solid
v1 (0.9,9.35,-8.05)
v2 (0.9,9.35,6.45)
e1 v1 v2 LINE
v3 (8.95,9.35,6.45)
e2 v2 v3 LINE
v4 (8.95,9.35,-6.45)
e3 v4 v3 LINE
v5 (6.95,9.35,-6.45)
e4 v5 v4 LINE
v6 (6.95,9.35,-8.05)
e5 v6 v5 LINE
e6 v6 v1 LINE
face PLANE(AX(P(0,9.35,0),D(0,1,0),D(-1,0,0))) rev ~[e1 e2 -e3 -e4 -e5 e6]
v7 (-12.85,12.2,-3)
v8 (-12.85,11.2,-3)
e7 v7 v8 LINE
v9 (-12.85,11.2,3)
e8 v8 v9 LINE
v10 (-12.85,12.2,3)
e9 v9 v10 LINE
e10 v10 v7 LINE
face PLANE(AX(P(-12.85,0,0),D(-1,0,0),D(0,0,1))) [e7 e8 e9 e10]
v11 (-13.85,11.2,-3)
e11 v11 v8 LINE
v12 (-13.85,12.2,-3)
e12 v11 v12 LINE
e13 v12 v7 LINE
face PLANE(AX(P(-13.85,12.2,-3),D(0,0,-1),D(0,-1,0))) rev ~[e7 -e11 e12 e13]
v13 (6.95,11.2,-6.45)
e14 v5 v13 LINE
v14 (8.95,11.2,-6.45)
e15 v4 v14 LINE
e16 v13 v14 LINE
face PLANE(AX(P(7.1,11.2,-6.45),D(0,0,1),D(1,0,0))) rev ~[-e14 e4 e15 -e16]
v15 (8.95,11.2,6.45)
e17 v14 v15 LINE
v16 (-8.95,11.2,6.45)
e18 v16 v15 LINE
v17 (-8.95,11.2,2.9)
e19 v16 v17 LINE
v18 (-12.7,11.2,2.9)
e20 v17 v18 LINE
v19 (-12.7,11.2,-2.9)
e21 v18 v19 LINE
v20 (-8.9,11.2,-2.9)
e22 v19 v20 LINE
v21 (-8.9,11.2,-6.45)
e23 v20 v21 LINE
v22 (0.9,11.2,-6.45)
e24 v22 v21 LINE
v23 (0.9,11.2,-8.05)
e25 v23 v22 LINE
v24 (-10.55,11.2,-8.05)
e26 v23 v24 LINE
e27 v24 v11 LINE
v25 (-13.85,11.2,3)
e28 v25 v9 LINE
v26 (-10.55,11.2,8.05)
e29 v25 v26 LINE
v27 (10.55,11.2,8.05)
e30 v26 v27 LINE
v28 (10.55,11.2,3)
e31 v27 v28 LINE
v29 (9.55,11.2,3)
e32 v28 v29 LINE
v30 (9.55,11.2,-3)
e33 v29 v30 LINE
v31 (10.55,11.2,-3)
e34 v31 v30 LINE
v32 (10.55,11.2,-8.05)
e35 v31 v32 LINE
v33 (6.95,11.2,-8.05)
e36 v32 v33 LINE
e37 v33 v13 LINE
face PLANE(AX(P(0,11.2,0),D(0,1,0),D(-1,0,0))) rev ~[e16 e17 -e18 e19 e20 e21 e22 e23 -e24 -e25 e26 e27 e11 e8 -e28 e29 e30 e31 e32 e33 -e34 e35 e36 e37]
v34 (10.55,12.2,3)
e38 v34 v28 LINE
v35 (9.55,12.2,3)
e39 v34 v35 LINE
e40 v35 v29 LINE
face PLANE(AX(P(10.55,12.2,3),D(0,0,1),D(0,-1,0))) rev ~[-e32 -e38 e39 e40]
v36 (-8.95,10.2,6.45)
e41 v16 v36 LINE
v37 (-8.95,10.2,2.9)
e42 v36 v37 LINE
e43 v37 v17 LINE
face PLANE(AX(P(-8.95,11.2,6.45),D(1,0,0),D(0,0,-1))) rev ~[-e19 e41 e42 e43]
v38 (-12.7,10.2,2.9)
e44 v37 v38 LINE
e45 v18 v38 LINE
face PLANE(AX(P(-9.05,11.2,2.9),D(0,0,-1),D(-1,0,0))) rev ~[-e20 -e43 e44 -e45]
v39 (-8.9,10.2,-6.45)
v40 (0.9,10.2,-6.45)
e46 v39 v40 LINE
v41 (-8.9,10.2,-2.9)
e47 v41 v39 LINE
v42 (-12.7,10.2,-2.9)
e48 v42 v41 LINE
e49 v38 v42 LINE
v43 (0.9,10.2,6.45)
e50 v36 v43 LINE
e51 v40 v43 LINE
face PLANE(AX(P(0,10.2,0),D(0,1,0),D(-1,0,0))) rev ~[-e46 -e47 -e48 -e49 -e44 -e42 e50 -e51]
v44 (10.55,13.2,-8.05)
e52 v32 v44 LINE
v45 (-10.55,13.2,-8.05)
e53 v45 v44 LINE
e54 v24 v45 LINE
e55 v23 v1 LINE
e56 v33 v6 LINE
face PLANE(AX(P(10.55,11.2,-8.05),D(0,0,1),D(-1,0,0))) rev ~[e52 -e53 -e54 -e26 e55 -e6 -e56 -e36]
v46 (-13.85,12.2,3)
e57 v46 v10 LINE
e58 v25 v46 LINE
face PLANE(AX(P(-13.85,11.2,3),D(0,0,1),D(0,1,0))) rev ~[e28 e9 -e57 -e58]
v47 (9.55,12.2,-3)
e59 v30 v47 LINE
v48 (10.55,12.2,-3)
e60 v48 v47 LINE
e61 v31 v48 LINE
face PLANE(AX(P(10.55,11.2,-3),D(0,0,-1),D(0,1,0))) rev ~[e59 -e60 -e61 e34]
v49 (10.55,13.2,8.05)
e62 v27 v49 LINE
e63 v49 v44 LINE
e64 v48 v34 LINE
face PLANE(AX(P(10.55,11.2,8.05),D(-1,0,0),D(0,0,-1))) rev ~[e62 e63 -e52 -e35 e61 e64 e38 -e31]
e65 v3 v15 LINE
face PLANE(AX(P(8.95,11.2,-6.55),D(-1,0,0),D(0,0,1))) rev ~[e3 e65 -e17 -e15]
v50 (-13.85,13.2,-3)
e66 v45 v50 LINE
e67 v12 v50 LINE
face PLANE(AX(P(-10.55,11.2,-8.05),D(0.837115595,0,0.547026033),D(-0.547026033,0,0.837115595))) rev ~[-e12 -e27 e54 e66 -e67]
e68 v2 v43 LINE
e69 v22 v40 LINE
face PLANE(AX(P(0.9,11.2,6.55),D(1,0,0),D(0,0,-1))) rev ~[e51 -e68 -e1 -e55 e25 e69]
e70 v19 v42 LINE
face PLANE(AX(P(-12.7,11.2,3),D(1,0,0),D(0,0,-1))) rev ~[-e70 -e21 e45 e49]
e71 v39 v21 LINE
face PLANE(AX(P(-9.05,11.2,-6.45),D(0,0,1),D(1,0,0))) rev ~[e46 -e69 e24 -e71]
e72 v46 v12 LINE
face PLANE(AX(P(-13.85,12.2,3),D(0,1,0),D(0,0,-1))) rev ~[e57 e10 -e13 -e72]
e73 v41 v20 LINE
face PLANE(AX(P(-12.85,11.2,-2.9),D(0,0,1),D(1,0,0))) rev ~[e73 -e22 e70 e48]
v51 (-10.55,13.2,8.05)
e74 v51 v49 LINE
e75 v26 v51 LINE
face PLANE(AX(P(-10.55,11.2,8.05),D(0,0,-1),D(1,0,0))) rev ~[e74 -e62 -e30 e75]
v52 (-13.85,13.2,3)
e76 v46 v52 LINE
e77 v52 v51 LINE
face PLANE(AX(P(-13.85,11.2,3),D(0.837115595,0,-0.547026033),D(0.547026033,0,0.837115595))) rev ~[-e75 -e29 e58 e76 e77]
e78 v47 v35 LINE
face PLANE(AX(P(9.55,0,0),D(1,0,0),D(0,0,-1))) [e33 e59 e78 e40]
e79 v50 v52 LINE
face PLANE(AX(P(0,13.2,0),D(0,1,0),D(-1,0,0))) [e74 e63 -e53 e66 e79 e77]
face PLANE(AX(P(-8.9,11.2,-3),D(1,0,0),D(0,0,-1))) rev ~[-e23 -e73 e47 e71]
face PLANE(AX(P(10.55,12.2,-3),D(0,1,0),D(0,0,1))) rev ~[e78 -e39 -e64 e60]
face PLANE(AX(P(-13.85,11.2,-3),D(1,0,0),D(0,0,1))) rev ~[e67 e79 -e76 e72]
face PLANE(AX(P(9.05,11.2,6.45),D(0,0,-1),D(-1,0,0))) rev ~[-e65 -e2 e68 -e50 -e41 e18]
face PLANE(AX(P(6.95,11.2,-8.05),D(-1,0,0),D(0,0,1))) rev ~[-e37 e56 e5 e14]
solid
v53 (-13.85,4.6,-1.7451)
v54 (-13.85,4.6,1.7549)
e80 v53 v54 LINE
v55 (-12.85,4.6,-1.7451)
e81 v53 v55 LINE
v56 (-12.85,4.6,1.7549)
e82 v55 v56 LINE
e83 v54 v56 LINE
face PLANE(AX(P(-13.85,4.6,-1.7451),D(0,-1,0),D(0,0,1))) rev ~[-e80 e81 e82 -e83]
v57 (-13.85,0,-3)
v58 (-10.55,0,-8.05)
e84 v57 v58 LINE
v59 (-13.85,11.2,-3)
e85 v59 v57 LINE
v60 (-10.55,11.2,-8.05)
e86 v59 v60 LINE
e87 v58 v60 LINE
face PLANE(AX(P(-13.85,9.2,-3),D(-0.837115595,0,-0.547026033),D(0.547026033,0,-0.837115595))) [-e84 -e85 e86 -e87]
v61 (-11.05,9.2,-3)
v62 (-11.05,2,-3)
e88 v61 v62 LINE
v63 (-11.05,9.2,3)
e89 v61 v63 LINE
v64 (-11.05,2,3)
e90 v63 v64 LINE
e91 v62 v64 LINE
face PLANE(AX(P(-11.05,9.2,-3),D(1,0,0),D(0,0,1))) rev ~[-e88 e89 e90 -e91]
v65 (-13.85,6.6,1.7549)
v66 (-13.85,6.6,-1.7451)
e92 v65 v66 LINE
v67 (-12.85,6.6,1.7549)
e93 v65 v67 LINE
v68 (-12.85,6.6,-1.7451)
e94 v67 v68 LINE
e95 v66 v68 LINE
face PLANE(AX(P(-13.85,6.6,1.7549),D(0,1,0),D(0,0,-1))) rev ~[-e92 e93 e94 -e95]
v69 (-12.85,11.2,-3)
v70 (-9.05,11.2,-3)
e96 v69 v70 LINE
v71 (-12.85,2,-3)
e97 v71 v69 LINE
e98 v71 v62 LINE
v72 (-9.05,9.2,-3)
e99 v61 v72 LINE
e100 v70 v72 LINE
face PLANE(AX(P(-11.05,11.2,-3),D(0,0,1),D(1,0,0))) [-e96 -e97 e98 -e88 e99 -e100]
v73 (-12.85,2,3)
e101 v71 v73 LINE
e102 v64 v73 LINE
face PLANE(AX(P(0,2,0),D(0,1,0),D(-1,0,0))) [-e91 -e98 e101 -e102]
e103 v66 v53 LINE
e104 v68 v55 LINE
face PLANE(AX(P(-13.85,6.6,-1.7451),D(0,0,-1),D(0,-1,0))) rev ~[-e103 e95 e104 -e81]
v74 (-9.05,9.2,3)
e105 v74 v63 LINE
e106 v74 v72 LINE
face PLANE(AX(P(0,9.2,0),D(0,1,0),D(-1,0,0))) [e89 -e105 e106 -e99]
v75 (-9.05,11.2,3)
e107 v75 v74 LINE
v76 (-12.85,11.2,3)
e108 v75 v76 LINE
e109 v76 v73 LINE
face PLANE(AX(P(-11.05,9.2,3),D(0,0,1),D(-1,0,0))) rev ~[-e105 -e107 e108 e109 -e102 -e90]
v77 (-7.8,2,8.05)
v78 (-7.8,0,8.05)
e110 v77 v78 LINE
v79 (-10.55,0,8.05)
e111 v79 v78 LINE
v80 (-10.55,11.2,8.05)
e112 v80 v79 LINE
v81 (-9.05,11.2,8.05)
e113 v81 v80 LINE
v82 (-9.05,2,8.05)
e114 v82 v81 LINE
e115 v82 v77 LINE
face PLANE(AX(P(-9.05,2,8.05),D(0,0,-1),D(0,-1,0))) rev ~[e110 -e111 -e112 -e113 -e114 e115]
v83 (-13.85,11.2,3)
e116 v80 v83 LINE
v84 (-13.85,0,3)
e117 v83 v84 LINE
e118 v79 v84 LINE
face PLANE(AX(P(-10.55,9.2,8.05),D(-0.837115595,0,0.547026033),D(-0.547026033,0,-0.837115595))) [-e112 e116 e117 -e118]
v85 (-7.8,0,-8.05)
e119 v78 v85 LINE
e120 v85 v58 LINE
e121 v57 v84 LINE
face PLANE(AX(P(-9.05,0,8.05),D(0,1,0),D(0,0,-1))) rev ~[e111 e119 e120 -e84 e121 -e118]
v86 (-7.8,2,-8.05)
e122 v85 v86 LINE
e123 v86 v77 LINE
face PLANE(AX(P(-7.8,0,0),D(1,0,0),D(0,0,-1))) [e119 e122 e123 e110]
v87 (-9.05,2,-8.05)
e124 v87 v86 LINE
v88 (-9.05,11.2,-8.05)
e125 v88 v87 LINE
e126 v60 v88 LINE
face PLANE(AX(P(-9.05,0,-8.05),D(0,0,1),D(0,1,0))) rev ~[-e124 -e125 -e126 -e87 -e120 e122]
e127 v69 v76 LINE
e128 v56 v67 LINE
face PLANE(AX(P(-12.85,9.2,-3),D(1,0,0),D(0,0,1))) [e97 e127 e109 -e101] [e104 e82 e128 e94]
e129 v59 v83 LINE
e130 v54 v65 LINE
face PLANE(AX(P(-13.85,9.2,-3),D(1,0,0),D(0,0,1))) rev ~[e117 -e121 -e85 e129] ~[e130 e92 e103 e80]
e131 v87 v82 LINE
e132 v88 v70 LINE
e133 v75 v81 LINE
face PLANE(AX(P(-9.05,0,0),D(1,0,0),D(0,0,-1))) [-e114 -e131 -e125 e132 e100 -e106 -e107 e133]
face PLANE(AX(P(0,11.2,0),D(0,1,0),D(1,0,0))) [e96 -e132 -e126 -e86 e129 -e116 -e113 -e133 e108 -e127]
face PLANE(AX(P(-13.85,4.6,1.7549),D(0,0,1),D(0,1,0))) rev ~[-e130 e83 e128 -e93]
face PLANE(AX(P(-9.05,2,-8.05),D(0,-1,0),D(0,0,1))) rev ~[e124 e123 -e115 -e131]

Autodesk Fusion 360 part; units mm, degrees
sketch "Sketch1" plane through (0, 0, 0) normal (0, 1, 0) x (1, 0, 0)
  line L0 (10.55, -8.05) -> (-10.55, -8.05)
  line L1 (-10.55, -8.05) -> (-10.55, 8.05)
  line L2 (-10.55, 8.05) -> (10.55, 8.05)
  line L3 (10.55, 8.05) -> (10.55, -8.05)
  line L4 (10.55, -8.05) -> (-10.55, 8.05) construction
  line L5 (-10.55, -8.05) -> (10.55, 8.05) construction
  dimension "d1" = 21.1
  dimension "d2" = 16.1
extrude "Extrude1" add sketch "Sketch1" along normal blind 3.5 makes body 1
sketch "Sketch2" plane through (0, 3.5, 0) normal (0, 1, 0) x (-1, 0, 0)
  line L0 (-10.55, -8.05) -> (10.55, -8.05)
  line L1 (10.55, -8.05) -> (10.55, 8.05)
  line L2 (10.55, 8.05) -> (-10.55, 8.05)
  line L3 (-10.55, 8.05) -> (-10.55, -8.05)
  line L4 (-9.05, 6.55) -> (9.05, 6.55)
  line L5 (9.05, 6.55) -> (9.05, -6.55)
  line L6 (9.05, -6.55) -> (-9.05, -6.55)
  line L7 (-9.05, -6.55) -> (-9.05, 6.55)
  line L8 (-9.05, 6.55) -> (9.05, -6.55) construction
  line L9 (9.05, 6.55) -> (-9.05, -6.55) construction
  dimension "d5" = 18.1
  dimension "d6" = 13.1
extrude "Extrude2" cut sketch "Sketch2" against normal blind 1.5 contours L4 L5 L6 L7 bodies 1
extrude "Extrude3" add 1 faces at (-3.0167, 3.5, -7.55) along direction (0, 1, 0) blind 5.7 on bodies 1 bodies 1
sketch "Sketch3" plane through (0, 9.2, 0) normal (0, 1, 0) x (-1, 0, 0)
  line L0 (9.05, 6.55) -> (9.05, -6.55)
  line L1 (9.05, -6.55) -> (-9.05, -6.55)
  line L2 (-9.05, -6.55) -> (-9.05, 6.55)
  line L3 (-9.05, 6.55) -> (9.05, 6.55)
  line L4 (-10.55, -8.05) -> (10.55, -8.05)
  line L5 (10.55, -8.05) -> (10.55, 8.05)
  line L6 (10.55, 8.05) -> (-10.55, 8.05)
  line L7 (-10.55, 8.05) -> (-10.55, -8.05)
  line L8 (-9.05, -6.55) -> (-7.1, -6.55)
  line L9 (-7.1, -6.55) -> (-7.1, -8.05)
  line L10 (-7.1, -8.05) -> (-9.05, -8.05)
  line L11 (-9.05, -8.05) -> (-9.05, -6.55)
  line L12 (-7.1, -6.55) -> (-0.8, -6.55)
  line L13 (-0.8, -6.55) -> (-0.8, -8.05)
  line L14 (-0.8, -8.05) -> (-7.1, -8.05)
  line L15 (-7.1, -8.05) -> (-7.1, -6.55)
  dimension "d11" = 1.95
  dimension "d12" = 6.3
extrude "Extrude4" cut sketch "Sketch3" against normal blind 5.7 contours L1 L4 L9 L12 L13 L14 L15 bodies 1
sketch "Sketch4" plane through (0, 2, 0) normal (0, 1, 0) x (-1, 0, 0)
  line L0 (-9.05, -6.55) -> (9.05, -6.55)
  line L1 (9.05, -6.55) -> (9.05, 6.55)
  line L2 (9.05, 6.55) -> (-9.05, 6.55)
  line L3 (-9.05, 6.55) -> (-9.05, -6.55)
  line L4 (-0.8, -6.55) -> (-7.1, -6.55)
  line L5 (-7.1, -6.55) -> (-7.1, -8.05)
  line L6 (-7.1, -8.05) -> (-0.8, -8.05)
  line L7 (-0.8, -8.05) -> (-0.8, -6.55)
  line L8 (9.05, -6.55) -> (5.55, -6.55)
  line L9 (5.55, -6.55) -> (5.55, 6.55)
  line L10 (5.55, 6.55) -> (9.05, 6.55)
  line L11 (9.05, 6.55) -> (9.05, -6.55)
  dimension "d15" = 3.5
extrude "Extrude5" cut sketch "Sketch4" against normal blind 1 contours L0 L1 L2 L8 L9 L10 L11 bodies 1
sketch "Sketch5" plane through (0, 9.2, 0) normal (0, 1, 0) x (-1, 0, 0)
  line L0 (-7.1, -8.05) -> (-7.1, -6.55)
  line L1 (-7.1, -6.55) -> (-9.05, -6.55)
  line L2 (-9.05, -6.55) -> (-9.05, 6.55)
  line L3 (-9.05, 6.55) -> (9.05, 6.55)
  line L4 (9.05, 6.55) -> (9.05, -6.55)
  line L5 (9.05, -6.55) -> (-0.8, -6.55)
  line L6 (-0.8, -6.55) -> (-0.8, -8.05)
  line L7 (-0.8, -8.05) -> (10.55, -8.05)
  line L8 (10.55, -8.05) -> (10.55, 8.05)
  line L9 (10.55, 8.05) -> (-10.55, 8.05)
  line L10 (-10.55, 8.05) -> (-10.55, -8.05)
  line L11 (-10.55, -8.05) -> (-7.1, -8.05)
  line L12 (12.85, -3) -> (8.25, -3)
  line L13 (8.25, -3) -> (8.25, 3)
  line L14 (8.25, 3) -> (12.85, 3)
  line L15 (12.85, 3) -> (12.85, -3)
  line L16 (12.85, -3) -> (8.25, 3) construction
  line L17 (8.25, -3) -> (12.85, 3) construction
  line L18 (12.85, -3) -> (13.85, -3)
  line L19 (13.85, -3) -> (13.85, 3)
  line L20 (13.85, 3) -> (12.85, 3)
  line L21 (12.85, 3) -> (12.85, -3)
  line L22 (10.55, -8.05) -> (10.55, 8.05)
  line L23 (10.55, 8.05) -> (13.85, 3)
  line L24 (13.85, -3) -> (10.55, -8.05)
  point P0 (10.55, 0)
  dimension "d18" = 4.6
  dimension "d19" = 6
  dimension "d20" = 1
extrude "Extrude6" add sketch "Sketch5" against normal blind 9.2 contours L8 L14 L20 L22 L23 | L8 L12 L14 L15 L21 L22 | L15 L18 L19 L20 L21 | L8 L12 L18 L22 L24 bodies 1
sketch "Sketch6" plane through (0, 9.2, 0) normal (0, 1, 0) x (-1, 0, 0)
  line L0 (-7.1, -8.05) -> (-7.1, -6.55)
  line L1 (-7.1, -6.55) -> (-9.05, -6.55)
  line L2 (-9.05, -6.55) -> (-9.05, 6.55)
  line L3 (-9.05, 6.55) -> (9.05, 6.55)
  line L4 (9.05, 6.55) -> (9.05, -6.55)
  line L5 (9.05, -6.55) -> (-0.8, -6.55)
  line L6 (-0.8, -6.55) -> (-0.8, -8.05)
  line L7 (-0.8, -8.05) -> (10.55, -8.05)
  line L8 (10.55, -8.05) -> (13.85, -3)
  line L9 (13.85, -3) -> (13.85, 3)
  line L10 (13.85, 3) -> (10.55, 8.05)
  line L11 (10.55, 8.05) -> (-10.55, 8.05)
  line L12 (-10.55, 8.05) -> (-10.55, -8.05)
  line L13 (-10.55, -8.05) -> (-7.1, -8.05)
  line L14 (13.85, -3) -> (12.85, -3)
  line L15 (12.85, -3) -> (12.85, 3)
  line L16 (12.85, 3) -> (13.85, 3)
  line L17 (13.85, 3) -> (13.85, -3)
  line L18 (12.85, -3) -> (11.05, -3)
  line L19 (11.05, -3) -> (11.05, 3)
  line L20 (11.05, 3) -> (12.85, 3)
  line L21 (12.85, 3) -> (12.85, -3)
  dimension "d23" = 1
  dimension "d24" = 1.8
extrude "Extrude7" cut sketch "Sketch6" against normal blind 7.2 contours L15 L18 L19 L20 L21 bodies 1
extrude "Extrude8" add 1 faces at (-9.7167, 9.2, -1) along direction (0, 1, 0) blind 2 on bodies 1 bodies 1
sketch "Sketch7" plane through (0, 11.2, 0) normal (0, 1, 0) x (-1, 0, 0)
  line L0 (11.05, -3) -> (11.05, 3)
  line L1 (11.05, 3) -> (12.85, 3)
  line L2 (12.85, 3) -> (12.85, -3)
  line L3 (12.85, -3) -> (11.05, -3)
  line L4 (-7.1, -8.05) -> (-7.1, -6.55)
  line L5 (-7.1, -6.55) -> (-9.05, -6.55)
  line L6 (-9.05, -6.55) -> (-9.05, 6.55)
  line L7 (-9.05, 6.55) -> (9.05, 6.55)
  line L8 (9.05, 6.55) -> (9.05, -6.55)
  line L9 (9.05, -6.55) -> (-0.8, -6.55)
  line L10 (-0.8, -6.55) -> (-0.8, -8.05)
  line L11 (-0.8, -8.05) -> (10.55, -8.05)
  line L12 (10.55, -8.05) -> (13.85, -3)
  line L13 (13.85, -3) -> (13.85, 3)
  line L14 (13.85, 3) -> (10.55, 8.05)
  line L15 (10.55, 8.05) -> (-10.55, 8.05)
  line L16 (-10.55, 8.05) -> (-10.55, -8.05)
  line L17 (-10.55, -8.05) -> (-7.1, -8.05)
  line L18 (11.05, -3) -> (9.05, -3)
  line L19 (9.05, -3) -> (9.05, 3)
  line L20 (9.05, 3) -> (11.05, 3)
  line L21 (11.05, 3) -> (11.05, -3)
extrude "Extrude9" cut sketch "Sketch7" against normal blind 2 contours L0 L8 L18 L19 L20 L21 bodies 1
copy_body "Body->Comp1" bodies 1 removing the originals makes body 2 in component "WSSM-03: Lower Half "
sketch "Sketch1 (2)" plane through (0, 11.2, 0) normal (0, 1, 0) x (-1, 0, 0) in component "WSSM-04: Upper Half"
  line L0 (9.05, 3) -> (12.85, 3)
  line L1 (12.85, 3) -> (12.85, -3)
  line L2 (12.85, -3) -> (9.05, -3)
  line L3 (9.05, -3) -> (9.05, -6.55)
  line L4 (9.05, -6.55) -> (-0.8, -6.55)
  line L5 (-0.8, -6.55) -> (-0.8, -8.05)
  line L6 (-0.8, -8.05) -> (10.55, -8.05)
  line L7 (10.55, -8.05) -> (13.85, -3)
  line L8 (13.85, -3) -> (13.85, 3)
  line L9 (13.85, 3) -> (10.55, 8.05)
  line L10 (10.55, 8.05) -> (-10.55, 8.05)
  line L11 (-10.55, 8.05) -> (-10.55, -8.05)
  line L12 (-10.55, -8.05) -> (-7.1, -8.05)
  line L13 (-7.1, -8.05) -> (-7.1, -6.55)
  line L14 (-7.1, -6.55) -> (-9.05, -6.55)
  line L15 (-9.05, -6.55) -> (-9.05, 6.55)
  line L16 (-9.05, 6.55) -> (9.05, 6.55)
  line L17 (9.05, 6.55) -> (9.05, 3)
  line L18 (-9.05, 6.55) -> (-0.8, 6.55)
  line L19 (-0.8, 6.55) -> (-0.8, -6.55)
  line L20 (-0.8, -6.55) -> (-9.05, -6.55)
  line L21 (-9.05, -6.55) -> (-9.05, 6.55)
  line L22 (-0.8, -8.05) -> (-7.1, -8.05)
  line L23 (-7.1, -8.05) -> (-7.1, -6.55)
  line L24 (-7.1, -6.55) -> (-0.8, -6.55)
  line L25 (-0.8, -6.55) -> (-0.8, -8.05)
extrude "Extrude1'" add sketch "Sketch1 (2)" against normal blind 1.85 separate body contours L14 L15 L16 L18 L19 L20 L21 L24 | L5 L13 L20 L22 L23 L24 L25 makes body 3 in component "WSSM-04: Upper Half"
move_face "OffsetFaces1" offset -0.1 1 faces at (9.05, 10.5833, -2.1833) on bodies 3 in component "WSSM-04: Upper Half"
move_face "OffsetFaces2" offset -0.1 1 faces at (3.5167, 9.9667, 6.55) on bodies 3 in component "WSSM-04: Upper Half"
move_face "OffsetFaces3" offset -0.1 1 faces at (7.7167, 10.5833, -6.55) on bodies 3 in component "WSSM-04: Upper Half"
move_face "OffsetFaces4" offset -0.15 1 faces at (7.1, 10.5833, -7.5167) on bodies 3 in component "WSSM-04: Upper Half"
sketch "Sketch2 (2)" plane through (0, 11.2, 0) normal (0, 1, 0) x (-1, 0, 0) in component "WSSM-04: Upper Half"
  line L0 (9.05, 3) -> (12.85, 3)
  line L1 (12.85, 3) -> (12.85, -3)
  line L2 (12.85, -3) -> (9.05, -3)
  line L3 (9.05, -3) -> (9.05, -6.55)
  line L4 (9.05, -6.55) -> (-0.8, -6.55)
  line L5 (-0.8, -6.55) -> (-0.8, -8.05)
  line L6 (-0.8, -8.05) -> (10.55, -8.05)
  line L7 (10.55, -8.05) -> (13.85, -3)
  line L8 (13.85, -3) -> (13.85, 3)
  line L9 (13.85, 3) -> (10.55, 8.05)
  line L10 (10.55, 8.05) -> (-10.55, 8.05)
  line L11 (-10.55, 8.05) -> (-10.55, -8.05)
  line L12 (-10.55, -8.05) -> (-7.1, -8.05)
  line L13 (-7.1, -8.05) -> (-7.1, -6.55)
  line L14 (-7.1, -6.55) -> (-9.05, -6.55)
  line L15 (-9.05, -6.55) -> (-9.05, 6.55)
  line L16 (-9.05, 6.55) -> (9.05, 6.55)
  line L17 (9.05, 6.55) -> (9.05, 3)
  line L18 (9.05, -6.55) -> (-0.8, -6.55)
  line L19 (-0.8, -6.55) -> (-0.8, 6.45)
  line L20 (-0.8, 6.45) -> (9.05, 6.45)
  line L21 (9.05, 6.45) -> (9.05, -6.55)
  line L22 (9.05, -3) -> (12.85, -3)
  line L23 (12.85, -3) -> (12.85, 3)
  line L24 (12.85, 3) -> (9.05, 3)
  line L25 (9.05, 3) -> (9.05, -3)
  point P0 (-0.8, 6.45)
extrude "Extrude2'" add sketch "Sketch2 (2)" against normal blind 1 contours L3 L4 L17 L18 L19 L20 L21 L25 | L0 L1 L2 L21 L22 L23 L24 L25 bodies 3 in component "WSSM-04: Upper Half"
move_face "OffsetFaces5" offset -0.1 1 faces at (-9.05, 10.8667, 5.3) on bodies 3 in component "WSSM-04: Upper Half"
move_face "OffsetFaces6" offset -0.1 1 faces at (-10.25, 10.8667, 3) on bodies 3 in component "WSSM-04: Upper Half"
move_face "OffsetFaces7" offset -0.15 1 faces at (-12.85, 10.8667, 0.9333) on bodies 3 in component "WSSM-04: Upper Half"
move_face "OffsetFaces8" offset -0.1 1 faces at (-11.4833, 10.8667, -3) on bodies 3 in component "WSSM-04: Upper Half"
move_face "OffsetFaces9" offset -0.15 1 faces at (-9.05, 10.8667, -4.1167) on bodies 3 in component "WSSM-04: Upper Half"
move_face "OffsetFaces10" offset -0.1 1 faces at (-5.6667, 10.5333, -6.55) on bodies 3 in component "WSSM-04: Upper Half"
move_face "OffsetFaces11" offset -0.1 1 faces at (0.8, 10.25, -7.5167) on bodies 3 in component "WSSM-04: Upper Half"
sketch "Sketch3 (2)" plane through (0, 11.2, 0) normal (0, 1, 0) x (-1, 0, 0) in component "WSSM-04: Upper Half"
  line L0 (9.05, 3) -> (12.85, 3)
  line L1 (12.85, 3) -> (12.85, -3)
  line L2 (12.85, -3) -> (9.05, -3)
  line L3 (9.05, -3) -> (9.05, -6.55)
  line L4 (9.05, -6.55) -> (-0.8, -6.55)
  line L5 (-0.8, -6.55) -> (-0.8, -8.05)
  line L6 (-0.8, -8.05) -> (10.55, -8.05)
  line L7 (10.55, -8.05) -> (13.85, -3)
  line L8 (13.85, -3) -> (13.85, 3)
  line L9 (13.85, 3) -> (10.55, 8.05)
  line L10 (10.55, 8.05) -> (-10.55, 8.05)
  line L11 (-10.55, 8.05) -> (-10.55, -8.05)
  line L12 (-10.55, -8.05) -> (-7.1, -8.05)
  line L13 (-7.1, -8.05) -> (-7.1, -6.55)
  line L14 (-7.1, -6.55) -> (-9.05, -6.55)
  line L15 (-9.05, -6.55) -> (-9.05, 6.55)
  line L16 (-9.05, 6.55) -> (9.05, 6.55)
  line L17 (9.05, 6.55) -> (9.05, 3)
  line L18 (-10.55, -8.05) -> (10.55, -8.05)
  line L19 (13.85, -3) -> (13.85, 3)
  line L20 (10.55, 8.05) -> (-10.55, 8.05)
extrude "Extrude3'" add sketch "Sketch3 (2)" along normal blind 2 bodies 3 in component "WSSM-04: Upper Half"
sketch "Sketch4 (2)" plane through (-13.85, 0, 0) normal (-1, 0, 0) x (0, 0, 1) in component "WSSM-04: Upper Half"
  line L0 (-3, 11.2) -> (3, 11.2)
  line L1 (3, 11.2) -> (3, 13.2)
  line L2 (3, 13.2) -> (-3, 13.2)
  line L3 (-3, 13.2) -> (-3, 11.2)
  line L4 (-3, 11.2) -> (3, 11.2)
  line L5 (3, 11.2) -> (3, 12.2)
  line L6 (3, 12.2) -> (-3, 12.2)
  line L7 (-3, 12.2) -> (-3, 11.2)
extrude "Extrude4'" cut sketch "Sketch4 (2)" against normal blind 1 contours L0 L1 L3 L4 L5 L6 L7 bodies 3 in component "WSSM-04: Upper Half"
sketch "Sketch5 (2)" plane through (10.55, 0, 0) normal (1, 0, 0) x (0, 0, -1) in component "WSSM-04: Upper Half"
  line L0 (-8.05, 11.2) -> (8.05, 11.2)
  line L1 (8.05, 11.2) -> (8.05, 13.2)
  line L2 (8.05, 13.2) -> (-8.05, 13.2)
  line L3 (-8.05, 13.2) -> (-8.05, 11.2)
  line L4 (3, 12.2) -> (-3, 12.2)
  line L5 (-3, 12.2) -> (-3, 10.2)
  line L6 (-3, 10.2) -> (3, 10.2)
  line L7 (3, 10.2) -> (3, 12.2)
  line L8 (3, 12.2) -> (-3, 10.2) construction
  line L9 (-3, 12.2) -> (3, 10.2) construction
  line L10 (-3, 12.2) -> (3, 12.2)
  line L11 (3, 12.2) -> (3, 11.2)
  line L12 (3, 11.2) -> (-3, 11.2)
  line L13 (-3, 11.2) -> (-3, 12.2)
  point P0 (0, 11.2)
  dimension "d50" = 6
  dimension "d51" = 2
  dimension "d52" = 6
  dimension "d53" = 1
extrude "Extrude5'" cut sketch "Sketch5 (2)" against normal blind 1 contours L0 L4 L5 L7 L10 L11 L12 L13 bodies 3 in component "WSSM-04: Upper Half"
sketch "Sketch8" plane through (-9.05, 0, 0) normal (1, 0, 0) x (0, 0, -1)
  line L0 (-3, 9.2) -> (-3, 11.2)
  line L1 (-3, 11.2) -> (-6.55, 11.2)
  line L2 (-6.55, 11.2) -> (-6.55, 1)
  line L3 (-6.55, 1) -> (6.55, 1)
  line L4 (6.55, 1) -> (6.55, 11.2)
  line L5 (6.55, 11.2) -> (3, 11.2)
  line L6 (3, 11.2) -> (3, 9.2)
  line L7 (3, 9.2) -> (-3, 9.2)
  line L8 (-9, 13) -> (9.4138, 13)
  line L9 (9.4138, 13) -> (9.4138, -1)
  line L10 (9.4138, -1) -> (-9, -1)
  line L11 (-9, -1) -> (-9, 13)
extrude "Extrude1''" cut sketch "Sketch8" along normal through all contours L0 L1 L2 L3 L4 L5 L6 L7 | L8 L9 L10 L11 bodies 2 in component "WSSM-03: Lower Half "
sketch "Sketch9" plane through (-13.85, 0, 0) normal (-1, 0, 0) x (0, 0, 1)
  line L0 (-3, 11.2) -> (-3, 0)
  line L1 (-3, 0) -> (3, 0)
  line L2 (3, 0) -> (3, 11.2)
  line L3 (3, 11.2) -> (-3, 11.2)
  line L4 (1.7549, 6.6) -> (-1.7451, 6.6)
  line L5 (-1.7451, 6.6) -> (-1.7451, 4.6)
  line L6 (-1.7451, 4.6) -> (1.7549, 4.6)
  line L7 (1.7549, 4.6) -> (1.7549, 6.6)
  line L8 (1.7549, 6.6) -> (-1.7451, 4.6) construction
  line L9 (-1.7451, 6.6) -> (1.7549, 4.6) construction
  point P0 (0.0049, 5.6)
  dimension "d57" = 3.5
  dimension "d58" = 2
extrude "Extrude2''" cut sketch "Sketch9" against normal blind 1 contours L4 L5 L6 L7 bodies 2 in component "WSSM-03: Lower Half "
sketch "Sketch10" plane through (-9.05, 0, 0) normal (1, 0, 0) x (0, 0, -1)
  line L0 (-3, 9.2) -> (-3, 11.2)
  line L1 (-3, 11.2) -> (-8.05, 11.2)
  line L2 (-8.05, 11.2) -> (-8.05, 0)
  line L3 (-8.05, 0) -> (8.05, 0)
  line L4 (8.05, 0) -> (8.05, 11.2)
  line L5 (8.05, 11.2) -> (3, 11.2)
  line L6 (3, 11.2) -> (3, 9.2)
  line L7 (3, 9.2) -> (-3, 9.2)
  line L8 (8.05, 11.2) -> (8.05, 2)
  line L9 (8.05, 2) -> (-8.05, 2)
  line L10 (-8.05, 2) -> (-8.05, 0)
  line L11 (-8.05, 0) -> (8.05, 0)
  line L12 (8.05, 0) -> (8.05, 2)
  dimension "d61" = 9.2
extrude "Extrude3''" add sketch "Sketch10" along normal blind 1.25 contours L2 L3 L4 L9 L10 L11 L12 bodies 2 in component "WSSM-03: Lower Half "
component "WSSM-03: Lower Half " placed x (1, 0, 0) y (0, 1, 0) z (0, 0, 1) at (0, 0, 0)
component "WSSM-04: Upper Half" placed x (1, 0, 0) y (0, 1, 0) z (0, 0, 1) at (0, 0, 0)
